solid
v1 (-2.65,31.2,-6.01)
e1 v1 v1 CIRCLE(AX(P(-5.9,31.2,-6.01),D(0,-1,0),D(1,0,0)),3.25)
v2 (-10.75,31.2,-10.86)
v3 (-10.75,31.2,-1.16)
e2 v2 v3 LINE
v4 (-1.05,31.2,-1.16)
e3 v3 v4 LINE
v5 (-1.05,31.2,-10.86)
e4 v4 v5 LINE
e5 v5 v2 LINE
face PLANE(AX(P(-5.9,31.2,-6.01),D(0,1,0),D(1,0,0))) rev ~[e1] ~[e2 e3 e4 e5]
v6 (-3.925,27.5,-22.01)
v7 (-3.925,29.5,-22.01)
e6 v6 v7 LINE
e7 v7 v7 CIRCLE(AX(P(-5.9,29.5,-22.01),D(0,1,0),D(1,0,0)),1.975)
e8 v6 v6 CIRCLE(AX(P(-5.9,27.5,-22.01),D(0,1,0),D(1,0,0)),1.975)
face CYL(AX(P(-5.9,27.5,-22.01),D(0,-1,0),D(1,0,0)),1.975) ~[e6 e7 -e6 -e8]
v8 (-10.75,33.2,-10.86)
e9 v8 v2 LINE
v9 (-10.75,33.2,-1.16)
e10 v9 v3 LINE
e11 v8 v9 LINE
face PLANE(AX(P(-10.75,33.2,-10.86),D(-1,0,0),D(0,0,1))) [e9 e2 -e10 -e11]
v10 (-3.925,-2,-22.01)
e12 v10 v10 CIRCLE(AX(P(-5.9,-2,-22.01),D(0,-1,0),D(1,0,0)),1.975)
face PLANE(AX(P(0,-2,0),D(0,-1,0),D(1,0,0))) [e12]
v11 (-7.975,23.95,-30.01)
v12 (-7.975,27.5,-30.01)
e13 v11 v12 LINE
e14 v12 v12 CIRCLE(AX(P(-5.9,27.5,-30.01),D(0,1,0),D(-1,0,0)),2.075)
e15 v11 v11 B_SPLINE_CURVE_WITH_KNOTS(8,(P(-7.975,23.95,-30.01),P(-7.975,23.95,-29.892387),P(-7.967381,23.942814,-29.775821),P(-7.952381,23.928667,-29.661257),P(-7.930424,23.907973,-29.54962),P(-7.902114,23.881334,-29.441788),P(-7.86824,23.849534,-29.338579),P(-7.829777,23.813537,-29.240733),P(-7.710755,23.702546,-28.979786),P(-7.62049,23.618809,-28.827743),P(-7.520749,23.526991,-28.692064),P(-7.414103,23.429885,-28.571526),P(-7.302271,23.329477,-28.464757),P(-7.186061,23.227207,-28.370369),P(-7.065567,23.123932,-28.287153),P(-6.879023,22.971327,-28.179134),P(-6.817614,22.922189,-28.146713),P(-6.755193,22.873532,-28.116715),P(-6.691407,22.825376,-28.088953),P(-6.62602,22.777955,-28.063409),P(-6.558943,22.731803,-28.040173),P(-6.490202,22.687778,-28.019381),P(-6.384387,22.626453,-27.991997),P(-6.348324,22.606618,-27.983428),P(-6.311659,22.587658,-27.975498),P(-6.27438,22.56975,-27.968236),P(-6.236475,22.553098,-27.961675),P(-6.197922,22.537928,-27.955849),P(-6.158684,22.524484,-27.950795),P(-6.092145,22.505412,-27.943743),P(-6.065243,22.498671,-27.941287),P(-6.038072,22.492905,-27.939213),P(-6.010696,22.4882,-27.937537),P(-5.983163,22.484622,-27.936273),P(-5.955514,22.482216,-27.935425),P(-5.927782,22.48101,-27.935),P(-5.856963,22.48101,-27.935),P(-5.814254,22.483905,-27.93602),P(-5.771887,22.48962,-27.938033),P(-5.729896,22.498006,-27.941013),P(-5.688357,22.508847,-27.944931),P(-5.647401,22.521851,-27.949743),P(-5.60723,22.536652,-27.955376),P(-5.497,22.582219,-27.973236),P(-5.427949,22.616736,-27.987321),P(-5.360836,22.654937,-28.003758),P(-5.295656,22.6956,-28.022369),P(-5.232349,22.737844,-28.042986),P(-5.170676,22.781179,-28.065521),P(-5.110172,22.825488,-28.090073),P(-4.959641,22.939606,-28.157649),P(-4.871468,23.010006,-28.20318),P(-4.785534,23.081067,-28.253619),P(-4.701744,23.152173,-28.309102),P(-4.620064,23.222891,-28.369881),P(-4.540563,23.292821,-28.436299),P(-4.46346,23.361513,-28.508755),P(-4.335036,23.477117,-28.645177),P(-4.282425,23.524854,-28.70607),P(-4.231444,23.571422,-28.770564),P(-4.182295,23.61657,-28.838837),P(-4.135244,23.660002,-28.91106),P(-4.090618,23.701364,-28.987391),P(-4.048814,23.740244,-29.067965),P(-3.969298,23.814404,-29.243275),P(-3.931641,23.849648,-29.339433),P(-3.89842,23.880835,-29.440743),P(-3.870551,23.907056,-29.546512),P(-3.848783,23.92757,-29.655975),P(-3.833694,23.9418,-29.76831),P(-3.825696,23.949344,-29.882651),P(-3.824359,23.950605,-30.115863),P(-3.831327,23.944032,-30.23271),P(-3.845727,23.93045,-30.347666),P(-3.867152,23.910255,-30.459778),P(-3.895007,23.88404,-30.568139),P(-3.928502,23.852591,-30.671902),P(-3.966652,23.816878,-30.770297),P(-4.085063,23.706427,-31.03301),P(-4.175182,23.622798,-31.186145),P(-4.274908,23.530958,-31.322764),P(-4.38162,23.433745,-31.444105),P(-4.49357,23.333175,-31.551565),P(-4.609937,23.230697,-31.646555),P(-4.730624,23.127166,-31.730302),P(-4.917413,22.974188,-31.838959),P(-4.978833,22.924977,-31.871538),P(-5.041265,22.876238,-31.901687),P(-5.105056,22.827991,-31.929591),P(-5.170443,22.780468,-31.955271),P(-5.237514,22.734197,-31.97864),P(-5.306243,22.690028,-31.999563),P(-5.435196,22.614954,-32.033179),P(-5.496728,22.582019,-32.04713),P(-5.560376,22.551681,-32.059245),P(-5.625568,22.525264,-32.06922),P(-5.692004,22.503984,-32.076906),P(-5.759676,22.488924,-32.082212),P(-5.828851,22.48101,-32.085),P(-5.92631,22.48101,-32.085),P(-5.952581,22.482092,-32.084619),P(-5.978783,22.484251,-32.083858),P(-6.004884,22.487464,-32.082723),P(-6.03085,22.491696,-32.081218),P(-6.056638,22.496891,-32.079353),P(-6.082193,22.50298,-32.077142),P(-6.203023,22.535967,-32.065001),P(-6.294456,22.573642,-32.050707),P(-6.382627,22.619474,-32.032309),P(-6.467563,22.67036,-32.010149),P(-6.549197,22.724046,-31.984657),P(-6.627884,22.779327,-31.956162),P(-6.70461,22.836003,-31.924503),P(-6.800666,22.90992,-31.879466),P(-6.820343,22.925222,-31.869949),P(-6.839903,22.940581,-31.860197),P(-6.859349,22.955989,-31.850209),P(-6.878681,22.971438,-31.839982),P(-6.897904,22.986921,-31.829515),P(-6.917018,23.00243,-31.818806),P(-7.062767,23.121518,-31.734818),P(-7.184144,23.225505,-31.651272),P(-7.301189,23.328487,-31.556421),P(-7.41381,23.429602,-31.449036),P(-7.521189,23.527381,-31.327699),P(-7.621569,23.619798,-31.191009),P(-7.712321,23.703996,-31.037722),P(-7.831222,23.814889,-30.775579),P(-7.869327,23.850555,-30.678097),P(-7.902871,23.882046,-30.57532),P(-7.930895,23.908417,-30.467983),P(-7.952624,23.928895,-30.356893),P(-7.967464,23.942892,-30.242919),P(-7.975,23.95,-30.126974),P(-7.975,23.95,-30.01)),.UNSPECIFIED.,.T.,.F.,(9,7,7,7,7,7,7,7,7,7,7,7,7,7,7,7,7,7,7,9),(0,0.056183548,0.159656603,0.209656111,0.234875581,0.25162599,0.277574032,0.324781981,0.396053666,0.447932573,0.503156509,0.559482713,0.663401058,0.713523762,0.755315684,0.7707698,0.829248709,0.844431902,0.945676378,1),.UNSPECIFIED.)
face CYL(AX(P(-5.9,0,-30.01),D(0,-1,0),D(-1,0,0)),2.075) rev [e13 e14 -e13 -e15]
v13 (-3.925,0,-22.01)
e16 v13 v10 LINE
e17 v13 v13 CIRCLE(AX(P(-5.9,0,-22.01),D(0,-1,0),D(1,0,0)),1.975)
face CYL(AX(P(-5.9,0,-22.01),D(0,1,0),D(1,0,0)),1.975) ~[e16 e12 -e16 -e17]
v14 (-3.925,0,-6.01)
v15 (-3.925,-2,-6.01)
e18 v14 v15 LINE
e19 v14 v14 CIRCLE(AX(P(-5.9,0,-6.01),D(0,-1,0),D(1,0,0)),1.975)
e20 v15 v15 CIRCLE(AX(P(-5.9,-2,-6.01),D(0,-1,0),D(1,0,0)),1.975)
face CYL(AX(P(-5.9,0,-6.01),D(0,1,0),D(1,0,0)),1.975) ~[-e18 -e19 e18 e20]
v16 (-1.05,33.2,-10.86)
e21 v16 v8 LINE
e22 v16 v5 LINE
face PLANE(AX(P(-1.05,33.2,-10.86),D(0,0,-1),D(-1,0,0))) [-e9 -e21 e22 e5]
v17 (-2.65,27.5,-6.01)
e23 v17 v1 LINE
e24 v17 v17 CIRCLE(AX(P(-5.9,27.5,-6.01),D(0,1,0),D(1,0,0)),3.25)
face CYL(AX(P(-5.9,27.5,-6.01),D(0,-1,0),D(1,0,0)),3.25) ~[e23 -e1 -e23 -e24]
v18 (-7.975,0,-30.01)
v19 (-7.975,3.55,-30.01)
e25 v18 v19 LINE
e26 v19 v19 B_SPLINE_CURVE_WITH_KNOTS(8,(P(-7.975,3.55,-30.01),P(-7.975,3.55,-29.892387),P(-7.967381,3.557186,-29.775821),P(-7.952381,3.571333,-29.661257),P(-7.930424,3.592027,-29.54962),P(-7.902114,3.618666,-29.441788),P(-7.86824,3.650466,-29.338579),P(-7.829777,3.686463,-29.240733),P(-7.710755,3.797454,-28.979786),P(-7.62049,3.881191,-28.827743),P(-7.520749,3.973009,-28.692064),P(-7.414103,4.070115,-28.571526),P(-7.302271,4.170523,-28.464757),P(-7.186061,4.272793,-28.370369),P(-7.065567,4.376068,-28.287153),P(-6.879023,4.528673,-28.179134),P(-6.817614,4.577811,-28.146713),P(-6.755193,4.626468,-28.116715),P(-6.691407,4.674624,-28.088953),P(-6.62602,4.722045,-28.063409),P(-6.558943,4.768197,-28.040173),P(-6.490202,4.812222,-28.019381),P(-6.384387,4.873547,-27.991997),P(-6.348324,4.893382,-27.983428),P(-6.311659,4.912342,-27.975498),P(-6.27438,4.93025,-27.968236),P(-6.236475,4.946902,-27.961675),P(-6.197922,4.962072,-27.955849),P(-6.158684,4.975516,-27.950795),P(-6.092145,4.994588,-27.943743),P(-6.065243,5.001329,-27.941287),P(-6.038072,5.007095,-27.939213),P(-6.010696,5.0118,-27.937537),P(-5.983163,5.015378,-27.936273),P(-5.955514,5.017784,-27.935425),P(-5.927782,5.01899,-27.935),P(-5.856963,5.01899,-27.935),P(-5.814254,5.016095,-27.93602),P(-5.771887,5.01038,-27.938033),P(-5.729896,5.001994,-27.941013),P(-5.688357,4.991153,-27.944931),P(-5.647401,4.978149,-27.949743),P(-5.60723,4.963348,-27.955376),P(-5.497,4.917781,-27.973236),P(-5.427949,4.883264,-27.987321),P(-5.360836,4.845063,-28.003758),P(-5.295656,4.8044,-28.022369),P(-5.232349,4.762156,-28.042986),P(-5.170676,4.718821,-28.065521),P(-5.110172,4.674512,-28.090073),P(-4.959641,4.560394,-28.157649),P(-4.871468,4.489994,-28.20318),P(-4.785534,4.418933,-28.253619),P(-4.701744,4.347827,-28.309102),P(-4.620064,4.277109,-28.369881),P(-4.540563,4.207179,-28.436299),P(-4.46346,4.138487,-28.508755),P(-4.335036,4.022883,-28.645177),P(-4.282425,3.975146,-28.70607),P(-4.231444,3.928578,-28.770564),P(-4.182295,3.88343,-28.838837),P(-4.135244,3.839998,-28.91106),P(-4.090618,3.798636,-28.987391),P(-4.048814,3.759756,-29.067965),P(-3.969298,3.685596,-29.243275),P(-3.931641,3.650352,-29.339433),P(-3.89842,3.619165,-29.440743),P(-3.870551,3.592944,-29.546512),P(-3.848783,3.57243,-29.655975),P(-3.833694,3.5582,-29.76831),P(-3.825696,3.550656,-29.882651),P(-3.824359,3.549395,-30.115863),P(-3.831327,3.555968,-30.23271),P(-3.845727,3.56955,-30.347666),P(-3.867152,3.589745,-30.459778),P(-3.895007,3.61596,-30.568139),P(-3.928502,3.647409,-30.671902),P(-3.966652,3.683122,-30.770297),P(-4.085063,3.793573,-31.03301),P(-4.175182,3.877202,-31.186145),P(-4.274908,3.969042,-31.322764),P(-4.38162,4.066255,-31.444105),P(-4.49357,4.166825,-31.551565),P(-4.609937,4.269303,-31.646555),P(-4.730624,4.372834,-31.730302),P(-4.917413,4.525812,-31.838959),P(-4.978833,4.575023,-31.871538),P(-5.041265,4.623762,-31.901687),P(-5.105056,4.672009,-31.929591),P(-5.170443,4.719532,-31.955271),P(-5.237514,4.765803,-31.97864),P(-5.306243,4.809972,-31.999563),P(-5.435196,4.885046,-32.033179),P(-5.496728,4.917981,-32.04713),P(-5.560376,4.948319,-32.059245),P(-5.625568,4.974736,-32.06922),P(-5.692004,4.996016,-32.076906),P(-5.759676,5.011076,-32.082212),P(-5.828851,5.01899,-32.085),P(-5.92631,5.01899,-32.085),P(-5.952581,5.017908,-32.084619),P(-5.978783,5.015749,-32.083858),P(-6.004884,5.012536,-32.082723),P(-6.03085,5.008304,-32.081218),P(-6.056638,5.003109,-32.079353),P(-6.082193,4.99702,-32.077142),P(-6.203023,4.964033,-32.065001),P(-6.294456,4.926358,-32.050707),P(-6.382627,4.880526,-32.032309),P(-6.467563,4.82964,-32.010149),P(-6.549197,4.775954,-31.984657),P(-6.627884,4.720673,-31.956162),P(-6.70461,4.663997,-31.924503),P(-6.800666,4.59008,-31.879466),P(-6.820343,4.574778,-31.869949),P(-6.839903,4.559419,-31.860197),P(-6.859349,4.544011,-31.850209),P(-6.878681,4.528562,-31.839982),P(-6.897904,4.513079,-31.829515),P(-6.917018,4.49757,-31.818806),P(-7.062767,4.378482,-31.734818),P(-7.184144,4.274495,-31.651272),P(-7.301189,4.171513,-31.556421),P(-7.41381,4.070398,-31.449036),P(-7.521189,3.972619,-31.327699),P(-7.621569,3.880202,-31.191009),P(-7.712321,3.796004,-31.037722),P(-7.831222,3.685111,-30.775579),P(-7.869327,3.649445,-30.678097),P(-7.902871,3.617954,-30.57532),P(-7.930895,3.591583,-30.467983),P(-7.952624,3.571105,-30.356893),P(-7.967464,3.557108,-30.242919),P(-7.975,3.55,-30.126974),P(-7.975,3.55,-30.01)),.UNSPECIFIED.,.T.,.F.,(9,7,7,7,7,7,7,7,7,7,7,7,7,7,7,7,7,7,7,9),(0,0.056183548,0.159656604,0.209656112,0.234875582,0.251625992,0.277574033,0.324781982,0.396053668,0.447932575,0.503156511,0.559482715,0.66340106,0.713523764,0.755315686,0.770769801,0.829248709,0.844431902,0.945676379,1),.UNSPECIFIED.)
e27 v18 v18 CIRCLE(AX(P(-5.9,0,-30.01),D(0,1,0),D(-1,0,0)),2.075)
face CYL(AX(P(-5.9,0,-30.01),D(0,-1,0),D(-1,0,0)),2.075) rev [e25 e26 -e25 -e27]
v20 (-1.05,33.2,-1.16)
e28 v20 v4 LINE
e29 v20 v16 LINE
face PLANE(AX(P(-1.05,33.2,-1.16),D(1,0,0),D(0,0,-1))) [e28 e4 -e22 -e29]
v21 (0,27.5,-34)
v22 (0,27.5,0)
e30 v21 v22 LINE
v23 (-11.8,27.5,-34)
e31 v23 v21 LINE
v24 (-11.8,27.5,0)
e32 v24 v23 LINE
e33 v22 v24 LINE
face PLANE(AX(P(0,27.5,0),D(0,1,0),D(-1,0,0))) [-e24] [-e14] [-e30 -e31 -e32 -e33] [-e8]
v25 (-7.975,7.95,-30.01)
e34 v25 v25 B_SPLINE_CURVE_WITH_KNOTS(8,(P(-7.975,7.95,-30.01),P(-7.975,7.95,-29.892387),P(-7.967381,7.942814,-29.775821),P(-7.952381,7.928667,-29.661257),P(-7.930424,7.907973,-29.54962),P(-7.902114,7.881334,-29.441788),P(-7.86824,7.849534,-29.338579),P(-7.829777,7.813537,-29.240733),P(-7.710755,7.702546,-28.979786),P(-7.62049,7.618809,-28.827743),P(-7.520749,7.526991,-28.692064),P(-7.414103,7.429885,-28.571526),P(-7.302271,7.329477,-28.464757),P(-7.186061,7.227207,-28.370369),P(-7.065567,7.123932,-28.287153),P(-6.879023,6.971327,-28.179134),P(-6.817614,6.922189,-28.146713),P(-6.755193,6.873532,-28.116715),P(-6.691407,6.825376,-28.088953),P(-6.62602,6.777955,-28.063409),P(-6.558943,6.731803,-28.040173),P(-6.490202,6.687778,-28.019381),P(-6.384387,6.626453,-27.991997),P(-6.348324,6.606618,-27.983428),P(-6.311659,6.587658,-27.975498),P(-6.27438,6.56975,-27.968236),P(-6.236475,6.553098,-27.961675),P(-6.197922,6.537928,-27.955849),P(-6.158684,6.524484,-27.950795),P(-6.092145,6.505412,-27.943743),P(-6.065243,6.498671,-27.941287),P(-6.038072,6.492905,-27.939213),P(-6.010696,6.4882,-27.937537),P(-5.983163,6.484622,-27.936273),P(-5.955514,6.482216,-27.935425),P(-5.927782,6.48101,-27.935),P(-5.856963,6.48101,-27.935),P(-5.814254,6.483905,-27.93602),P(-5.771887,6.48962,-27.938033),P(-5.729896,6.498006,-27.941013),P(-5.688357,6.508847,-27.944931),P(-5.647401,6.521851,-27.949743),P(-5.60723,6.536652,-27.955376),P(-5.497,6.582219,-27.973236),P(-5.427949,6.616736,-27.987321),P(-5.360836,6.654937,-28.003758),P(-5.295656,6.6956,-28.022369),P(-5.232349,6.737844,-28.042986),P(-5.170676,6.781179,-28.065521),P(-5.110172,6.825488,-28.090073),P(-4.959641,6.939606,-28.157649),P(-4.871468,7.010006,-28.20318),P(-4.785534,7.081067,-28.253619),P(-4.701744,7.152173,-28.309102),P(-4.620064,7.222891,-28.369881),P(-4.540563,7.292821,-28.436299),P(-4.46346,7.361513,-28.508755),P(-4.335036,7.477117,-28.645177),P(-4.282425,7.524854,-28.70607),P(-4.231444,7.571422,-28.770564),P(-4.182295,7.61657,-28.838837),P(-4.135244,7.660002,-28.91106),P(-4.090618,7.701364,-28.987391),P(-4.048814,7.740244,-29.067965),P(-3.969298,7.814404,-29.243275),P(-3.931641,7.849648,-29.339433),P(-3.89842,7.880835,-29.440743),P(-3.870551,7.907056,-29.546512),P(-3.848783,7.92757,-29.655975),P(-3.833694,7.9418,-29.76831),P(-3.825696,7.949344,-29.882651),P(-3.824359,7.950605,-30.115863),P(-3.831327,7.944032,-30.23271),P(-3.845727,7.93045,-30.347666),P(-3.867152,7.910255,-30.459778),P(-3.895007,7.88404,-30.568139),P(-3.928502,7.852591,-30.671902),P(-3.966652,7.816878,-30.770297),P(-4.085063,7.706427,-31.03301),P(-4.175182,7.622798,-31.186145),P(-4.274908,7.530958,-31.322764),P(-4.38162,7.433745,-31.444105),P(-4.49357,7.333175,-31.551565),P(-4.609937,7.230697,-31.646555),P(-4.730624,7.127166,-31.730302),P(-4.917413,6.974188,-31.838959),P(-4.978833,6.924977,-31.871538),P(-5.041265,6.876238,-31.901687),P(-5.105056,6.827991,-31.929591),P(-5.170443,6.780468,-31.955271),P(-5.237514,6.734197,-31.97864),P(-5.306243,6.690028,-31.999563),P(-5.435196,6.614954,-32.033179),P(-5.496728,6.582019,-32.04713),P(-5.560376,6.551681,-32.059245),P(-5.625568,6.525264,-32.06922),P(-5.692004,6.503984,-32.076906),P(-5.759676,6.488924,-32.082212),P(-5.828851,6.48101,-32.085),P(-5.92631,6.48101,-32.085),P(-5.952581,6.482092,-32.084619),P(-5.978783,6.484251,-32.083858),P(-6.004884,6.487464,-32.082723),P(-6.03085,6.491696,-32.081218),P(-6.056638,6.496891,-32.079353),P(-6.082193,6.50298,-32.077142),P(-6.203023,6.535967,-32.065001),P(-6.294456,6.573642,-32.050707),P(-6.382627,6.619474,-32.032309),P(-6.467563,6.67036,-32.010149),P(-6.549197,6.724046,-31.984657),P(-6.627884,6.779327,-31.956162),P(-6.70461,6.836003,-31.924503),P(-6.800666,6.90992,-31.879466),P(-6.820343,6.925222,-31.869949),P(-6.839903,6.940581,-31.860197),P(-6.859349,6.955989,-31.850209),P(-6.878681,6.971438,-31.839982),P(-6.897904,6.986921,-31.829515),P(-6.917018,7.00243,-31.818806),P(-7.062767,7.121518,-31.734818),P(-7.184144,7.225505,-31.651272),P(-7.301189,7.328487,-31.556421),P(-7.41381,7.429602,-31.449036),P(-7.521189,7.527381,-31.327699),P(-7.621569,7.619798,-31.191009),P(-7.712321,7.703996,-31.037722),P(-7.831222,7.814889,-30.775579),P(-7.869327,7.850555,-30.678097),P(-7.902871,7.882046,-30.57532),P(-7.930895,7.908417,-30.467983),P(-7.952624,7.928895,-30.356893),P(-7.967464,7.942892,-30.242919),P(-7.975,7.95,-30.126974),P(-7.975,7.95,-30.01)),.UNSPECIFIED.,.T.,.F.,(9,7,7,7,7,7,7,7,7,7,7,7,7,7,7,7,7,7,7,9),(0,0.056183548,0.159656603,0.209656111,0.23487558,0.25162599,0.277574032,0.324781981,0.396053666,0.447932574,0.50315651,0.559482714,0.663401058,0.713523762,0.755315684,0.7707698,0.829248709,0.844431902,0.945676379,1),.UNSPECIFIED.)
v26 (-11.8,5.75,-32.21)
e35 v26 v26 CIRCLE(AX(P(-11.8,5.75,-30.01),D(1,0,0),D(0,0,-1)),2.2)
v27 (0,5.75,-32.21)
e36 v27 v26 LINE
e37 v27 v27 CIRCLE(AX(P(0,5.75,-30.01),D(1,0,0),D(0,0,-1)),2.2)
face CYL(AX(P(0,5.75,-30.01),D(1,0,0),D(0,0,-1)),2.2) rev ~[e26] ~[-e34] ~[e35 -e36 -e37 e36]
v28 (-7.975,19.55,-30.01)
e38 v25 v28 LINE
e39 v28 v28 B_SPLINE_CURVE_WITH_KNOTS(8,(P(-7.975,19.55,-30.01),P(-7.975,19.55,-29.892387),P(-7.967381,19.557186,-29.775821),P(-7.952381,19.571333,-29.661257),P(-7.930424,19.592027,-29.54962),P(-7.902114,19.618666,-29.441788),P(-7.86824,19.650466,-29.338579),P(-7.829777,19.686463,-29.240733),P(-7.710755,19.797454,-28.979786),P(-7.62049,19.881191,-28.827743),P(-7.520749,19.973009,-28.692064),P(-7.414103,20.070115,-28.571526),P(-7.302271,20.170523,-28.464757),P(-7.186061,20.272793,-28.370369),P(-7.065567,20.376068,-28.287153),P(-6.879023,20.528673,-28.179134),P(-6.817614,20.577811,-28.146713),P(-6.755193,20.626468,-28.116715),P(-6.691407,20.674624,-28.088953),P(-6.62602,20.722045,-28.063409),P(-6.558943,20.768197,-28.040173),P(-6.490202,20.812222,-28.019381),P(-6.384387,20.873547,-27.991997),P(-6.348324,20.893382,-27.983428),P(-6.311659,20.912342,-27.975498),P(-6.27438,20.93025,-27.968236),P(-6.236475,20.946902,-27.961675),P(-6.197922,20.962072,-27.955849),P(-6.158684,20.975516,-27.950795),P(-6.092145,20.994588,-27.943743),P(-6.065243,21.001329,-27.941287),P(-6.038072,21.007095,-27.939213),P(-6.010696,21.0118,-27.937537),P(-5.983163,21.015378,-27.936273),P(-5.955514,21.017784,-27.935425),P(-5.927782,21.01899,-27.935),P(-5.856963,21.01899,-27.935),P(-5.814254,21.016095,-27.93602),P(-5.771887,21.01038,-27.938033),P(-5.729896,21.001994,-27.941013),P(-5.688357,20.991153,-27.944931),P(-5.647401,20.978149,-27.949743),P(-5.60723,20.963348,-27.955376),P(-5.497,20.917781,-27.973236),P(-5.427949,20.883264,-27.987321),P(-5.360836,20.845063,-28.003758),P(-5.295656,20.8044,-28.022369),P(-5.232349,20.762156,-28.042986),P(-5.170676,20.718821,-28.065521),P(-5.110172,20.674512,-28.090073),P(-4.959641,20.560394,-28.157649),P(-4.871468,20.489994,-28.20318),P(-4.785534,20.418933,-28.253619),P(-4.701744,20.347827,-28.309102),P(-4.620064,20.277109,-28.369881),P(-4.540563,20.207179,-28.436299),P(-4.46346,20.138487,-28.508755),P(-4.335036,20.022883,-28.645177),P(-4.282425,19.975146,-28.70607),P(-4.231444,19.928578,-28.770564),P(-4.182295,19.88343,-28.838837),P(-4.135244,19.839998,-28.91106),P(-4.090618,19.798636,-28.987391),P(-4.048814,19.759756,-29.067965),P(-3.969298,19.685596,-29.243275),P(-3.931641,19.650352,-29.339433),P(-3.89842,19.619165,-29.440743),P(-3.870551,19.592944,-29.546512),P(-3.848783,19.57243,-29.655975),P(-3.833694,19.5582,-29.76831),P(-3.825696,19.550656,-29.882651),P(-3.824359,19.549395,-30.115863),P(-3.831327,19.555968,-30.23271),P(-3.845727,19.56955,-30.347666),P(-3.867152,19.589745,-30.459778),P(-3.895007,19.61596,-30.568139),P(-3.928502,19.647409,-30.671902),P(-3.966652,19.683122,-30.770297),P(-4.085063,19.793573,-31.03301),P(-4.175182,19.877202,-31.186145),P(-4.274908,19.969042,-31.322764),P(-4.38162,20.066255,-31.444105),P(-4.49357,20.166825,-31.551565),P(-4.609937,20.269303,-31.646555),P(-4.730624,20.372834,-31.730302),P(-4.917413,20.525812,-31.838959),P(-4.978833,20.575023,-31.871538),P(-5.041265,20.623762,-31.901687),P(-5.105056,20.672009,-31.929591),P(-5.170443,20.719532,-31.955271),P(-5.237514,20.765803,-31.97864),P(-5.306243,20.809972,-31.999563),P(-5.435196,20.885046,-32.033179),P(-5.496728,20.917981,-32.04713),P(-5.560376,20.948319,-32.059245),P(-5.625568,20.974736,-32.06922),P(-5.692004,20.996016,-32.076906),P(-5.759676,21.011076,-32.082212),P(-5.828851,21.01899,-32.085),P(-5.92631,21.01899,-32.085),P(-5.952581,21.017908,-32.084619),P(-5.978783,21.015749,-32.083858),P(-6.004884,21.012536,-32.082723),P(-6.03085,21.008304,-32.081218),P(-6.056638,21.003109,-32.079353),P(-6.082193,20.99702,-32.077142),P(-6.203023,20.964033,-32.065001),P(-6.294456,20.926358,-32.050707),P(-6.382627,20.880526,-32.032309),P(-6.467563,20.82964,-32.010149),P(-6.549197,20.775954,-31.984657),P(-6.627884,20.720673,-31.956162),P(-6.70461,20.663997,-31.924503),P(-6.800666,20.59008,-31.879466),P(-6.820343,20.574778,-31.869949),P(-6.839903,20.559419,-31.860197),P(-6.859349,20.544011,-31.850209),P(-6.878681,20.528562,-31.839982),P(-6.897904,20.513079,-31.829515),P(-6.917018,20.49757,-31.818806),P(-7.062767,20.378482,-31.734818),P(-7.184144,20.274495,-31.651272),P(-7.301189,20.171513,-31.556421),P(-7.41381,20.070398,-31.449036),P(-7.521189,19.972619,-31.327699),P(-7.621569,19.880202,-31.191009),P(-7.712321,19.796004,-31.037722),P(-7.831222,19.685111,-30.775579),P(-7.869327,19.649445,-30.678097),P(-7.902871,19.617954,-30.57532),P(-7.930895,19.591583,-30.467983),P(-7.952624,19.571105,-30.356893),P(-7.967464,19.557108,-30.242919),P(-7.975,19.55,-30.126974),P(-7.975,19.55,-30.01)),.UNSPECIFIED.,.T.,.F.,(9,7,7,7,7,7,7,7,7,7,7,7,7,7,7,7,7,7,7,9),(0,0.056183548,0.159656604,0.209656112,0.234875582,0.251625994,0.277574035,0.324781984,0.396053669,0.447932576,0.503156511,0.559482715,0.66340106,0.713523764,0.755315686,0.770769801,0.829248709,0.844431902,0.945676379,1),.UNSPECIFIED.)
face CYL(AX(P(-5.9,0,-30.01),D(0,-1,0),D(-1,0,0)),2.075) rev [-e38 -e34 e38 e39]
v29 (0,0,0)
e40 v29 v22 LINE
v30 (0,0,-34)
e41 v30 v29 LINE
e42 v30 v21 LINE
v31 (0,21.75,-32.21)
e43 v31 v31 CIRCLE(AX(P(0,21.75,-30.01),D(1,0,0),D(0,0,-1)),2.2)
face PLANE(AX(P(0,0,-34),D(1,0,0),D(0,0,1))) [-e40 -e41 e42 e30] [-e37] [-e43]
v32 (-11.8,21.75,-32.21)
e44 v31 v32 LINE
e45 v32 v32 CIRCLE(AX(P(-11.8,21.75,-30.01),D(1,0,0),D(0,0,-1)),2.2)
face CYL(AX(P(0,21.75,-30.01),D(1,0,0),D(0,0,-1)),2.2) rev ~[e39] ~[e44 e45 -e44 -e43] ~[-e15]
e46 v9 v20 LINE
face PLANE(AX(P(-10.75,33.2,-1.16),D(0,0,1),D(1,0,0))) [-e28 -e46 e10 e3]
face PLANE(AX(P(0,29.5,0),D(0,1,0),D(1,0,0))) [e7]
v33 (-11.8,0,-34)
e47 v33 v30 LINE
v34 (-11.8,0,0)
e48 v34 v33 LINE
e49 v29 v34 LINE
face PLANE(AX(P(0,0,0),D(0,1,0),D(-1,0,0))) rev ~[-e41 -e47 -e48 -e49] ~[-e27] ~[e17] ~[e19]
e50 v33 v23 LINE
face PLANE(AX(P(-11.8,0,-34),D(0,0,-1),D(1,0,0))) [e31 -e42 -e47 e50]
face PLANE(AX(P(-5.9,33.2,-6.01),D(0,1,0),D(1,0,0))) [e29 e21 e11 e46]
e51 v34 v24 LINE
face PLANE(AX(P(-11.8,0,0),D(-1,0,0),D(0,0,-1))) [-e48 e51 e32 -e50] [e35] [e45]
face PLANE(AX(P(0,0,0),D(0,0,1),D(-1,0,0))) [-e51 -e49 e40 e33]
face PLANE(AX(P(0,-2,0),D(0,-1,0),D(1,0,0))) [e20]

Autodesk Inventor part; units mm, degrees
ref_plane "YZ Plane" through (0, 0, 0) normal (1, 0, 0) x (0, 1, 0)
ref_plane "XZ Plane" through (0, 0, 0) normal (0, 1, 0) x (-1, 0, 0)
ref_plane "XY Plane" through (0, 0, 0) normal (0, 0, 1) x (1, 0, 0)
sketch "Sketch1" plane through (0, 0, 0) normal (0, 1, 0) x (-1, 0, 0)
  line L0 (0, 0) -> (11.8, 0)
  line L1 (11.8, 0) -> (11.8, -34)
  line L2 (11.8, -34) -> (0, -34)
  line L3 (0, -34) -> (0, 0)
  circle A0 centre (5.9, -30.01) radius 2.075
  dimension "d0" = 11.8
  dimension "d1" = 34
  dimension "d2" = 4.15
  dimension "d3" = 30.01
extrude "Extrusion1" add sketch "Sketch1" along normal blind 27.5
sketch "Sketch2" plane through (0, 27.5, 0) normal (0, 1, 0) x (1, 0, 0)
  circle A0 centre (-5.9, 6.01) radius 3.25
  line L0 (-11.8, 0) -> (0, 0) projected
  line L1 (0, 0) -> (0, 34) projected
  dimension "d6" = 6.5
  dimension "d7" = 6.01
  dimension "d8" = 5.9
extrude "Extrusion2" add sketch "Sketch2" along normal blind 5.7
sketch "Sketch3" plane through (-5.9, 33.2, -6.01) normal (0, 1, 0) x (1, 0, 0)
  line L0 (-4.85, -4.85) -> (4.85, -4.85)
  line L1 (4.85, -4.85) -> (4.85, 4.85)
  line L2 (4.85, 4.85) -> (-4.85, 4.85)
  line L3 (-4.85, 4.85) -> (-4.85, -4.85)
  line L4 (-4.85, -4.85) -> (4.85, 4.85) construction
  line L5 (4.85, -4.85) -> (-4.85, 4.85) construction
  point P0 (5.9, -6.01)
  point P1 (0, 0)
  dimension "d11" = 9.7
  dimension "d12" = 9.7
extrude "Extrusion3" add sketch "Sketch3" against normal blind 2
sketch "Sketch4" plane through (0, 0, 0) normal (0, -1, 0) x (1, 0, 0)
  circle A0 centre (-5.9, -6.01) radius 3.25 projected
  circle A1 centre (-5.9, -6.01) radius 1.975
  point P0 (0, 0)
  dimension "d24" = 3.95
extrude "Extrusion4" add sketch "Sketch4" along normal blind 2 contours A1
sketch "Sketch5" plane through (0, 27.5, 0) normal (0, 1, 0) x (1, 0, 0)
  circle A0 centre (-5.9, 22.01) radius 1.975
  circle A1 centre (-5.9, 30.01) radius 2.075 projected
  point P0 (0, 0)
  dimension "d27" = 3.95
  dimension "d28" = 8
extrude "Extrusion5" add sketch "Sketch5" along normal blind 2 contours A0
sketch "Sketch6" plane through (0, 0, 0) normal (0, -1, 0) x (1, 0, 0)
  circle A0 centre (-5.9, -22.01) radius 1.975 projected
  circle A1 centre (-5.9, -22.01) radius 1.975
  point P0 (0, 0)
extrude "Extrusion6" add sketch "Sketch6" along normal blind 2
sketch "Sketch7" plane through (0, 0, 0) normal (1, 0, 0) x (0, 0, -1)
  circle A0 centre (30.01, 21.75) radius 2.2
  circle A1 centre (30.01, 5.75) radius 2.2
  line L0 (0, 27.5) -> (34, 27.5) projected
  line L1 (0, 0) -> (34, 0) projected
  line L2 (34, 0) -> (34, 27.5) projected
  dimension "d53" = 4.4
  dimension "d54" = 4.4
  dimension "d55" = 16
  dimension "d57" = 5.75
  dimension "d60" = 3.99
  dimension "d61" = 3.99
extrude "Extrusion7" cut sketch "Sketch7" against normal blind 17.25
properties part number "MS-1.5A Servo"
